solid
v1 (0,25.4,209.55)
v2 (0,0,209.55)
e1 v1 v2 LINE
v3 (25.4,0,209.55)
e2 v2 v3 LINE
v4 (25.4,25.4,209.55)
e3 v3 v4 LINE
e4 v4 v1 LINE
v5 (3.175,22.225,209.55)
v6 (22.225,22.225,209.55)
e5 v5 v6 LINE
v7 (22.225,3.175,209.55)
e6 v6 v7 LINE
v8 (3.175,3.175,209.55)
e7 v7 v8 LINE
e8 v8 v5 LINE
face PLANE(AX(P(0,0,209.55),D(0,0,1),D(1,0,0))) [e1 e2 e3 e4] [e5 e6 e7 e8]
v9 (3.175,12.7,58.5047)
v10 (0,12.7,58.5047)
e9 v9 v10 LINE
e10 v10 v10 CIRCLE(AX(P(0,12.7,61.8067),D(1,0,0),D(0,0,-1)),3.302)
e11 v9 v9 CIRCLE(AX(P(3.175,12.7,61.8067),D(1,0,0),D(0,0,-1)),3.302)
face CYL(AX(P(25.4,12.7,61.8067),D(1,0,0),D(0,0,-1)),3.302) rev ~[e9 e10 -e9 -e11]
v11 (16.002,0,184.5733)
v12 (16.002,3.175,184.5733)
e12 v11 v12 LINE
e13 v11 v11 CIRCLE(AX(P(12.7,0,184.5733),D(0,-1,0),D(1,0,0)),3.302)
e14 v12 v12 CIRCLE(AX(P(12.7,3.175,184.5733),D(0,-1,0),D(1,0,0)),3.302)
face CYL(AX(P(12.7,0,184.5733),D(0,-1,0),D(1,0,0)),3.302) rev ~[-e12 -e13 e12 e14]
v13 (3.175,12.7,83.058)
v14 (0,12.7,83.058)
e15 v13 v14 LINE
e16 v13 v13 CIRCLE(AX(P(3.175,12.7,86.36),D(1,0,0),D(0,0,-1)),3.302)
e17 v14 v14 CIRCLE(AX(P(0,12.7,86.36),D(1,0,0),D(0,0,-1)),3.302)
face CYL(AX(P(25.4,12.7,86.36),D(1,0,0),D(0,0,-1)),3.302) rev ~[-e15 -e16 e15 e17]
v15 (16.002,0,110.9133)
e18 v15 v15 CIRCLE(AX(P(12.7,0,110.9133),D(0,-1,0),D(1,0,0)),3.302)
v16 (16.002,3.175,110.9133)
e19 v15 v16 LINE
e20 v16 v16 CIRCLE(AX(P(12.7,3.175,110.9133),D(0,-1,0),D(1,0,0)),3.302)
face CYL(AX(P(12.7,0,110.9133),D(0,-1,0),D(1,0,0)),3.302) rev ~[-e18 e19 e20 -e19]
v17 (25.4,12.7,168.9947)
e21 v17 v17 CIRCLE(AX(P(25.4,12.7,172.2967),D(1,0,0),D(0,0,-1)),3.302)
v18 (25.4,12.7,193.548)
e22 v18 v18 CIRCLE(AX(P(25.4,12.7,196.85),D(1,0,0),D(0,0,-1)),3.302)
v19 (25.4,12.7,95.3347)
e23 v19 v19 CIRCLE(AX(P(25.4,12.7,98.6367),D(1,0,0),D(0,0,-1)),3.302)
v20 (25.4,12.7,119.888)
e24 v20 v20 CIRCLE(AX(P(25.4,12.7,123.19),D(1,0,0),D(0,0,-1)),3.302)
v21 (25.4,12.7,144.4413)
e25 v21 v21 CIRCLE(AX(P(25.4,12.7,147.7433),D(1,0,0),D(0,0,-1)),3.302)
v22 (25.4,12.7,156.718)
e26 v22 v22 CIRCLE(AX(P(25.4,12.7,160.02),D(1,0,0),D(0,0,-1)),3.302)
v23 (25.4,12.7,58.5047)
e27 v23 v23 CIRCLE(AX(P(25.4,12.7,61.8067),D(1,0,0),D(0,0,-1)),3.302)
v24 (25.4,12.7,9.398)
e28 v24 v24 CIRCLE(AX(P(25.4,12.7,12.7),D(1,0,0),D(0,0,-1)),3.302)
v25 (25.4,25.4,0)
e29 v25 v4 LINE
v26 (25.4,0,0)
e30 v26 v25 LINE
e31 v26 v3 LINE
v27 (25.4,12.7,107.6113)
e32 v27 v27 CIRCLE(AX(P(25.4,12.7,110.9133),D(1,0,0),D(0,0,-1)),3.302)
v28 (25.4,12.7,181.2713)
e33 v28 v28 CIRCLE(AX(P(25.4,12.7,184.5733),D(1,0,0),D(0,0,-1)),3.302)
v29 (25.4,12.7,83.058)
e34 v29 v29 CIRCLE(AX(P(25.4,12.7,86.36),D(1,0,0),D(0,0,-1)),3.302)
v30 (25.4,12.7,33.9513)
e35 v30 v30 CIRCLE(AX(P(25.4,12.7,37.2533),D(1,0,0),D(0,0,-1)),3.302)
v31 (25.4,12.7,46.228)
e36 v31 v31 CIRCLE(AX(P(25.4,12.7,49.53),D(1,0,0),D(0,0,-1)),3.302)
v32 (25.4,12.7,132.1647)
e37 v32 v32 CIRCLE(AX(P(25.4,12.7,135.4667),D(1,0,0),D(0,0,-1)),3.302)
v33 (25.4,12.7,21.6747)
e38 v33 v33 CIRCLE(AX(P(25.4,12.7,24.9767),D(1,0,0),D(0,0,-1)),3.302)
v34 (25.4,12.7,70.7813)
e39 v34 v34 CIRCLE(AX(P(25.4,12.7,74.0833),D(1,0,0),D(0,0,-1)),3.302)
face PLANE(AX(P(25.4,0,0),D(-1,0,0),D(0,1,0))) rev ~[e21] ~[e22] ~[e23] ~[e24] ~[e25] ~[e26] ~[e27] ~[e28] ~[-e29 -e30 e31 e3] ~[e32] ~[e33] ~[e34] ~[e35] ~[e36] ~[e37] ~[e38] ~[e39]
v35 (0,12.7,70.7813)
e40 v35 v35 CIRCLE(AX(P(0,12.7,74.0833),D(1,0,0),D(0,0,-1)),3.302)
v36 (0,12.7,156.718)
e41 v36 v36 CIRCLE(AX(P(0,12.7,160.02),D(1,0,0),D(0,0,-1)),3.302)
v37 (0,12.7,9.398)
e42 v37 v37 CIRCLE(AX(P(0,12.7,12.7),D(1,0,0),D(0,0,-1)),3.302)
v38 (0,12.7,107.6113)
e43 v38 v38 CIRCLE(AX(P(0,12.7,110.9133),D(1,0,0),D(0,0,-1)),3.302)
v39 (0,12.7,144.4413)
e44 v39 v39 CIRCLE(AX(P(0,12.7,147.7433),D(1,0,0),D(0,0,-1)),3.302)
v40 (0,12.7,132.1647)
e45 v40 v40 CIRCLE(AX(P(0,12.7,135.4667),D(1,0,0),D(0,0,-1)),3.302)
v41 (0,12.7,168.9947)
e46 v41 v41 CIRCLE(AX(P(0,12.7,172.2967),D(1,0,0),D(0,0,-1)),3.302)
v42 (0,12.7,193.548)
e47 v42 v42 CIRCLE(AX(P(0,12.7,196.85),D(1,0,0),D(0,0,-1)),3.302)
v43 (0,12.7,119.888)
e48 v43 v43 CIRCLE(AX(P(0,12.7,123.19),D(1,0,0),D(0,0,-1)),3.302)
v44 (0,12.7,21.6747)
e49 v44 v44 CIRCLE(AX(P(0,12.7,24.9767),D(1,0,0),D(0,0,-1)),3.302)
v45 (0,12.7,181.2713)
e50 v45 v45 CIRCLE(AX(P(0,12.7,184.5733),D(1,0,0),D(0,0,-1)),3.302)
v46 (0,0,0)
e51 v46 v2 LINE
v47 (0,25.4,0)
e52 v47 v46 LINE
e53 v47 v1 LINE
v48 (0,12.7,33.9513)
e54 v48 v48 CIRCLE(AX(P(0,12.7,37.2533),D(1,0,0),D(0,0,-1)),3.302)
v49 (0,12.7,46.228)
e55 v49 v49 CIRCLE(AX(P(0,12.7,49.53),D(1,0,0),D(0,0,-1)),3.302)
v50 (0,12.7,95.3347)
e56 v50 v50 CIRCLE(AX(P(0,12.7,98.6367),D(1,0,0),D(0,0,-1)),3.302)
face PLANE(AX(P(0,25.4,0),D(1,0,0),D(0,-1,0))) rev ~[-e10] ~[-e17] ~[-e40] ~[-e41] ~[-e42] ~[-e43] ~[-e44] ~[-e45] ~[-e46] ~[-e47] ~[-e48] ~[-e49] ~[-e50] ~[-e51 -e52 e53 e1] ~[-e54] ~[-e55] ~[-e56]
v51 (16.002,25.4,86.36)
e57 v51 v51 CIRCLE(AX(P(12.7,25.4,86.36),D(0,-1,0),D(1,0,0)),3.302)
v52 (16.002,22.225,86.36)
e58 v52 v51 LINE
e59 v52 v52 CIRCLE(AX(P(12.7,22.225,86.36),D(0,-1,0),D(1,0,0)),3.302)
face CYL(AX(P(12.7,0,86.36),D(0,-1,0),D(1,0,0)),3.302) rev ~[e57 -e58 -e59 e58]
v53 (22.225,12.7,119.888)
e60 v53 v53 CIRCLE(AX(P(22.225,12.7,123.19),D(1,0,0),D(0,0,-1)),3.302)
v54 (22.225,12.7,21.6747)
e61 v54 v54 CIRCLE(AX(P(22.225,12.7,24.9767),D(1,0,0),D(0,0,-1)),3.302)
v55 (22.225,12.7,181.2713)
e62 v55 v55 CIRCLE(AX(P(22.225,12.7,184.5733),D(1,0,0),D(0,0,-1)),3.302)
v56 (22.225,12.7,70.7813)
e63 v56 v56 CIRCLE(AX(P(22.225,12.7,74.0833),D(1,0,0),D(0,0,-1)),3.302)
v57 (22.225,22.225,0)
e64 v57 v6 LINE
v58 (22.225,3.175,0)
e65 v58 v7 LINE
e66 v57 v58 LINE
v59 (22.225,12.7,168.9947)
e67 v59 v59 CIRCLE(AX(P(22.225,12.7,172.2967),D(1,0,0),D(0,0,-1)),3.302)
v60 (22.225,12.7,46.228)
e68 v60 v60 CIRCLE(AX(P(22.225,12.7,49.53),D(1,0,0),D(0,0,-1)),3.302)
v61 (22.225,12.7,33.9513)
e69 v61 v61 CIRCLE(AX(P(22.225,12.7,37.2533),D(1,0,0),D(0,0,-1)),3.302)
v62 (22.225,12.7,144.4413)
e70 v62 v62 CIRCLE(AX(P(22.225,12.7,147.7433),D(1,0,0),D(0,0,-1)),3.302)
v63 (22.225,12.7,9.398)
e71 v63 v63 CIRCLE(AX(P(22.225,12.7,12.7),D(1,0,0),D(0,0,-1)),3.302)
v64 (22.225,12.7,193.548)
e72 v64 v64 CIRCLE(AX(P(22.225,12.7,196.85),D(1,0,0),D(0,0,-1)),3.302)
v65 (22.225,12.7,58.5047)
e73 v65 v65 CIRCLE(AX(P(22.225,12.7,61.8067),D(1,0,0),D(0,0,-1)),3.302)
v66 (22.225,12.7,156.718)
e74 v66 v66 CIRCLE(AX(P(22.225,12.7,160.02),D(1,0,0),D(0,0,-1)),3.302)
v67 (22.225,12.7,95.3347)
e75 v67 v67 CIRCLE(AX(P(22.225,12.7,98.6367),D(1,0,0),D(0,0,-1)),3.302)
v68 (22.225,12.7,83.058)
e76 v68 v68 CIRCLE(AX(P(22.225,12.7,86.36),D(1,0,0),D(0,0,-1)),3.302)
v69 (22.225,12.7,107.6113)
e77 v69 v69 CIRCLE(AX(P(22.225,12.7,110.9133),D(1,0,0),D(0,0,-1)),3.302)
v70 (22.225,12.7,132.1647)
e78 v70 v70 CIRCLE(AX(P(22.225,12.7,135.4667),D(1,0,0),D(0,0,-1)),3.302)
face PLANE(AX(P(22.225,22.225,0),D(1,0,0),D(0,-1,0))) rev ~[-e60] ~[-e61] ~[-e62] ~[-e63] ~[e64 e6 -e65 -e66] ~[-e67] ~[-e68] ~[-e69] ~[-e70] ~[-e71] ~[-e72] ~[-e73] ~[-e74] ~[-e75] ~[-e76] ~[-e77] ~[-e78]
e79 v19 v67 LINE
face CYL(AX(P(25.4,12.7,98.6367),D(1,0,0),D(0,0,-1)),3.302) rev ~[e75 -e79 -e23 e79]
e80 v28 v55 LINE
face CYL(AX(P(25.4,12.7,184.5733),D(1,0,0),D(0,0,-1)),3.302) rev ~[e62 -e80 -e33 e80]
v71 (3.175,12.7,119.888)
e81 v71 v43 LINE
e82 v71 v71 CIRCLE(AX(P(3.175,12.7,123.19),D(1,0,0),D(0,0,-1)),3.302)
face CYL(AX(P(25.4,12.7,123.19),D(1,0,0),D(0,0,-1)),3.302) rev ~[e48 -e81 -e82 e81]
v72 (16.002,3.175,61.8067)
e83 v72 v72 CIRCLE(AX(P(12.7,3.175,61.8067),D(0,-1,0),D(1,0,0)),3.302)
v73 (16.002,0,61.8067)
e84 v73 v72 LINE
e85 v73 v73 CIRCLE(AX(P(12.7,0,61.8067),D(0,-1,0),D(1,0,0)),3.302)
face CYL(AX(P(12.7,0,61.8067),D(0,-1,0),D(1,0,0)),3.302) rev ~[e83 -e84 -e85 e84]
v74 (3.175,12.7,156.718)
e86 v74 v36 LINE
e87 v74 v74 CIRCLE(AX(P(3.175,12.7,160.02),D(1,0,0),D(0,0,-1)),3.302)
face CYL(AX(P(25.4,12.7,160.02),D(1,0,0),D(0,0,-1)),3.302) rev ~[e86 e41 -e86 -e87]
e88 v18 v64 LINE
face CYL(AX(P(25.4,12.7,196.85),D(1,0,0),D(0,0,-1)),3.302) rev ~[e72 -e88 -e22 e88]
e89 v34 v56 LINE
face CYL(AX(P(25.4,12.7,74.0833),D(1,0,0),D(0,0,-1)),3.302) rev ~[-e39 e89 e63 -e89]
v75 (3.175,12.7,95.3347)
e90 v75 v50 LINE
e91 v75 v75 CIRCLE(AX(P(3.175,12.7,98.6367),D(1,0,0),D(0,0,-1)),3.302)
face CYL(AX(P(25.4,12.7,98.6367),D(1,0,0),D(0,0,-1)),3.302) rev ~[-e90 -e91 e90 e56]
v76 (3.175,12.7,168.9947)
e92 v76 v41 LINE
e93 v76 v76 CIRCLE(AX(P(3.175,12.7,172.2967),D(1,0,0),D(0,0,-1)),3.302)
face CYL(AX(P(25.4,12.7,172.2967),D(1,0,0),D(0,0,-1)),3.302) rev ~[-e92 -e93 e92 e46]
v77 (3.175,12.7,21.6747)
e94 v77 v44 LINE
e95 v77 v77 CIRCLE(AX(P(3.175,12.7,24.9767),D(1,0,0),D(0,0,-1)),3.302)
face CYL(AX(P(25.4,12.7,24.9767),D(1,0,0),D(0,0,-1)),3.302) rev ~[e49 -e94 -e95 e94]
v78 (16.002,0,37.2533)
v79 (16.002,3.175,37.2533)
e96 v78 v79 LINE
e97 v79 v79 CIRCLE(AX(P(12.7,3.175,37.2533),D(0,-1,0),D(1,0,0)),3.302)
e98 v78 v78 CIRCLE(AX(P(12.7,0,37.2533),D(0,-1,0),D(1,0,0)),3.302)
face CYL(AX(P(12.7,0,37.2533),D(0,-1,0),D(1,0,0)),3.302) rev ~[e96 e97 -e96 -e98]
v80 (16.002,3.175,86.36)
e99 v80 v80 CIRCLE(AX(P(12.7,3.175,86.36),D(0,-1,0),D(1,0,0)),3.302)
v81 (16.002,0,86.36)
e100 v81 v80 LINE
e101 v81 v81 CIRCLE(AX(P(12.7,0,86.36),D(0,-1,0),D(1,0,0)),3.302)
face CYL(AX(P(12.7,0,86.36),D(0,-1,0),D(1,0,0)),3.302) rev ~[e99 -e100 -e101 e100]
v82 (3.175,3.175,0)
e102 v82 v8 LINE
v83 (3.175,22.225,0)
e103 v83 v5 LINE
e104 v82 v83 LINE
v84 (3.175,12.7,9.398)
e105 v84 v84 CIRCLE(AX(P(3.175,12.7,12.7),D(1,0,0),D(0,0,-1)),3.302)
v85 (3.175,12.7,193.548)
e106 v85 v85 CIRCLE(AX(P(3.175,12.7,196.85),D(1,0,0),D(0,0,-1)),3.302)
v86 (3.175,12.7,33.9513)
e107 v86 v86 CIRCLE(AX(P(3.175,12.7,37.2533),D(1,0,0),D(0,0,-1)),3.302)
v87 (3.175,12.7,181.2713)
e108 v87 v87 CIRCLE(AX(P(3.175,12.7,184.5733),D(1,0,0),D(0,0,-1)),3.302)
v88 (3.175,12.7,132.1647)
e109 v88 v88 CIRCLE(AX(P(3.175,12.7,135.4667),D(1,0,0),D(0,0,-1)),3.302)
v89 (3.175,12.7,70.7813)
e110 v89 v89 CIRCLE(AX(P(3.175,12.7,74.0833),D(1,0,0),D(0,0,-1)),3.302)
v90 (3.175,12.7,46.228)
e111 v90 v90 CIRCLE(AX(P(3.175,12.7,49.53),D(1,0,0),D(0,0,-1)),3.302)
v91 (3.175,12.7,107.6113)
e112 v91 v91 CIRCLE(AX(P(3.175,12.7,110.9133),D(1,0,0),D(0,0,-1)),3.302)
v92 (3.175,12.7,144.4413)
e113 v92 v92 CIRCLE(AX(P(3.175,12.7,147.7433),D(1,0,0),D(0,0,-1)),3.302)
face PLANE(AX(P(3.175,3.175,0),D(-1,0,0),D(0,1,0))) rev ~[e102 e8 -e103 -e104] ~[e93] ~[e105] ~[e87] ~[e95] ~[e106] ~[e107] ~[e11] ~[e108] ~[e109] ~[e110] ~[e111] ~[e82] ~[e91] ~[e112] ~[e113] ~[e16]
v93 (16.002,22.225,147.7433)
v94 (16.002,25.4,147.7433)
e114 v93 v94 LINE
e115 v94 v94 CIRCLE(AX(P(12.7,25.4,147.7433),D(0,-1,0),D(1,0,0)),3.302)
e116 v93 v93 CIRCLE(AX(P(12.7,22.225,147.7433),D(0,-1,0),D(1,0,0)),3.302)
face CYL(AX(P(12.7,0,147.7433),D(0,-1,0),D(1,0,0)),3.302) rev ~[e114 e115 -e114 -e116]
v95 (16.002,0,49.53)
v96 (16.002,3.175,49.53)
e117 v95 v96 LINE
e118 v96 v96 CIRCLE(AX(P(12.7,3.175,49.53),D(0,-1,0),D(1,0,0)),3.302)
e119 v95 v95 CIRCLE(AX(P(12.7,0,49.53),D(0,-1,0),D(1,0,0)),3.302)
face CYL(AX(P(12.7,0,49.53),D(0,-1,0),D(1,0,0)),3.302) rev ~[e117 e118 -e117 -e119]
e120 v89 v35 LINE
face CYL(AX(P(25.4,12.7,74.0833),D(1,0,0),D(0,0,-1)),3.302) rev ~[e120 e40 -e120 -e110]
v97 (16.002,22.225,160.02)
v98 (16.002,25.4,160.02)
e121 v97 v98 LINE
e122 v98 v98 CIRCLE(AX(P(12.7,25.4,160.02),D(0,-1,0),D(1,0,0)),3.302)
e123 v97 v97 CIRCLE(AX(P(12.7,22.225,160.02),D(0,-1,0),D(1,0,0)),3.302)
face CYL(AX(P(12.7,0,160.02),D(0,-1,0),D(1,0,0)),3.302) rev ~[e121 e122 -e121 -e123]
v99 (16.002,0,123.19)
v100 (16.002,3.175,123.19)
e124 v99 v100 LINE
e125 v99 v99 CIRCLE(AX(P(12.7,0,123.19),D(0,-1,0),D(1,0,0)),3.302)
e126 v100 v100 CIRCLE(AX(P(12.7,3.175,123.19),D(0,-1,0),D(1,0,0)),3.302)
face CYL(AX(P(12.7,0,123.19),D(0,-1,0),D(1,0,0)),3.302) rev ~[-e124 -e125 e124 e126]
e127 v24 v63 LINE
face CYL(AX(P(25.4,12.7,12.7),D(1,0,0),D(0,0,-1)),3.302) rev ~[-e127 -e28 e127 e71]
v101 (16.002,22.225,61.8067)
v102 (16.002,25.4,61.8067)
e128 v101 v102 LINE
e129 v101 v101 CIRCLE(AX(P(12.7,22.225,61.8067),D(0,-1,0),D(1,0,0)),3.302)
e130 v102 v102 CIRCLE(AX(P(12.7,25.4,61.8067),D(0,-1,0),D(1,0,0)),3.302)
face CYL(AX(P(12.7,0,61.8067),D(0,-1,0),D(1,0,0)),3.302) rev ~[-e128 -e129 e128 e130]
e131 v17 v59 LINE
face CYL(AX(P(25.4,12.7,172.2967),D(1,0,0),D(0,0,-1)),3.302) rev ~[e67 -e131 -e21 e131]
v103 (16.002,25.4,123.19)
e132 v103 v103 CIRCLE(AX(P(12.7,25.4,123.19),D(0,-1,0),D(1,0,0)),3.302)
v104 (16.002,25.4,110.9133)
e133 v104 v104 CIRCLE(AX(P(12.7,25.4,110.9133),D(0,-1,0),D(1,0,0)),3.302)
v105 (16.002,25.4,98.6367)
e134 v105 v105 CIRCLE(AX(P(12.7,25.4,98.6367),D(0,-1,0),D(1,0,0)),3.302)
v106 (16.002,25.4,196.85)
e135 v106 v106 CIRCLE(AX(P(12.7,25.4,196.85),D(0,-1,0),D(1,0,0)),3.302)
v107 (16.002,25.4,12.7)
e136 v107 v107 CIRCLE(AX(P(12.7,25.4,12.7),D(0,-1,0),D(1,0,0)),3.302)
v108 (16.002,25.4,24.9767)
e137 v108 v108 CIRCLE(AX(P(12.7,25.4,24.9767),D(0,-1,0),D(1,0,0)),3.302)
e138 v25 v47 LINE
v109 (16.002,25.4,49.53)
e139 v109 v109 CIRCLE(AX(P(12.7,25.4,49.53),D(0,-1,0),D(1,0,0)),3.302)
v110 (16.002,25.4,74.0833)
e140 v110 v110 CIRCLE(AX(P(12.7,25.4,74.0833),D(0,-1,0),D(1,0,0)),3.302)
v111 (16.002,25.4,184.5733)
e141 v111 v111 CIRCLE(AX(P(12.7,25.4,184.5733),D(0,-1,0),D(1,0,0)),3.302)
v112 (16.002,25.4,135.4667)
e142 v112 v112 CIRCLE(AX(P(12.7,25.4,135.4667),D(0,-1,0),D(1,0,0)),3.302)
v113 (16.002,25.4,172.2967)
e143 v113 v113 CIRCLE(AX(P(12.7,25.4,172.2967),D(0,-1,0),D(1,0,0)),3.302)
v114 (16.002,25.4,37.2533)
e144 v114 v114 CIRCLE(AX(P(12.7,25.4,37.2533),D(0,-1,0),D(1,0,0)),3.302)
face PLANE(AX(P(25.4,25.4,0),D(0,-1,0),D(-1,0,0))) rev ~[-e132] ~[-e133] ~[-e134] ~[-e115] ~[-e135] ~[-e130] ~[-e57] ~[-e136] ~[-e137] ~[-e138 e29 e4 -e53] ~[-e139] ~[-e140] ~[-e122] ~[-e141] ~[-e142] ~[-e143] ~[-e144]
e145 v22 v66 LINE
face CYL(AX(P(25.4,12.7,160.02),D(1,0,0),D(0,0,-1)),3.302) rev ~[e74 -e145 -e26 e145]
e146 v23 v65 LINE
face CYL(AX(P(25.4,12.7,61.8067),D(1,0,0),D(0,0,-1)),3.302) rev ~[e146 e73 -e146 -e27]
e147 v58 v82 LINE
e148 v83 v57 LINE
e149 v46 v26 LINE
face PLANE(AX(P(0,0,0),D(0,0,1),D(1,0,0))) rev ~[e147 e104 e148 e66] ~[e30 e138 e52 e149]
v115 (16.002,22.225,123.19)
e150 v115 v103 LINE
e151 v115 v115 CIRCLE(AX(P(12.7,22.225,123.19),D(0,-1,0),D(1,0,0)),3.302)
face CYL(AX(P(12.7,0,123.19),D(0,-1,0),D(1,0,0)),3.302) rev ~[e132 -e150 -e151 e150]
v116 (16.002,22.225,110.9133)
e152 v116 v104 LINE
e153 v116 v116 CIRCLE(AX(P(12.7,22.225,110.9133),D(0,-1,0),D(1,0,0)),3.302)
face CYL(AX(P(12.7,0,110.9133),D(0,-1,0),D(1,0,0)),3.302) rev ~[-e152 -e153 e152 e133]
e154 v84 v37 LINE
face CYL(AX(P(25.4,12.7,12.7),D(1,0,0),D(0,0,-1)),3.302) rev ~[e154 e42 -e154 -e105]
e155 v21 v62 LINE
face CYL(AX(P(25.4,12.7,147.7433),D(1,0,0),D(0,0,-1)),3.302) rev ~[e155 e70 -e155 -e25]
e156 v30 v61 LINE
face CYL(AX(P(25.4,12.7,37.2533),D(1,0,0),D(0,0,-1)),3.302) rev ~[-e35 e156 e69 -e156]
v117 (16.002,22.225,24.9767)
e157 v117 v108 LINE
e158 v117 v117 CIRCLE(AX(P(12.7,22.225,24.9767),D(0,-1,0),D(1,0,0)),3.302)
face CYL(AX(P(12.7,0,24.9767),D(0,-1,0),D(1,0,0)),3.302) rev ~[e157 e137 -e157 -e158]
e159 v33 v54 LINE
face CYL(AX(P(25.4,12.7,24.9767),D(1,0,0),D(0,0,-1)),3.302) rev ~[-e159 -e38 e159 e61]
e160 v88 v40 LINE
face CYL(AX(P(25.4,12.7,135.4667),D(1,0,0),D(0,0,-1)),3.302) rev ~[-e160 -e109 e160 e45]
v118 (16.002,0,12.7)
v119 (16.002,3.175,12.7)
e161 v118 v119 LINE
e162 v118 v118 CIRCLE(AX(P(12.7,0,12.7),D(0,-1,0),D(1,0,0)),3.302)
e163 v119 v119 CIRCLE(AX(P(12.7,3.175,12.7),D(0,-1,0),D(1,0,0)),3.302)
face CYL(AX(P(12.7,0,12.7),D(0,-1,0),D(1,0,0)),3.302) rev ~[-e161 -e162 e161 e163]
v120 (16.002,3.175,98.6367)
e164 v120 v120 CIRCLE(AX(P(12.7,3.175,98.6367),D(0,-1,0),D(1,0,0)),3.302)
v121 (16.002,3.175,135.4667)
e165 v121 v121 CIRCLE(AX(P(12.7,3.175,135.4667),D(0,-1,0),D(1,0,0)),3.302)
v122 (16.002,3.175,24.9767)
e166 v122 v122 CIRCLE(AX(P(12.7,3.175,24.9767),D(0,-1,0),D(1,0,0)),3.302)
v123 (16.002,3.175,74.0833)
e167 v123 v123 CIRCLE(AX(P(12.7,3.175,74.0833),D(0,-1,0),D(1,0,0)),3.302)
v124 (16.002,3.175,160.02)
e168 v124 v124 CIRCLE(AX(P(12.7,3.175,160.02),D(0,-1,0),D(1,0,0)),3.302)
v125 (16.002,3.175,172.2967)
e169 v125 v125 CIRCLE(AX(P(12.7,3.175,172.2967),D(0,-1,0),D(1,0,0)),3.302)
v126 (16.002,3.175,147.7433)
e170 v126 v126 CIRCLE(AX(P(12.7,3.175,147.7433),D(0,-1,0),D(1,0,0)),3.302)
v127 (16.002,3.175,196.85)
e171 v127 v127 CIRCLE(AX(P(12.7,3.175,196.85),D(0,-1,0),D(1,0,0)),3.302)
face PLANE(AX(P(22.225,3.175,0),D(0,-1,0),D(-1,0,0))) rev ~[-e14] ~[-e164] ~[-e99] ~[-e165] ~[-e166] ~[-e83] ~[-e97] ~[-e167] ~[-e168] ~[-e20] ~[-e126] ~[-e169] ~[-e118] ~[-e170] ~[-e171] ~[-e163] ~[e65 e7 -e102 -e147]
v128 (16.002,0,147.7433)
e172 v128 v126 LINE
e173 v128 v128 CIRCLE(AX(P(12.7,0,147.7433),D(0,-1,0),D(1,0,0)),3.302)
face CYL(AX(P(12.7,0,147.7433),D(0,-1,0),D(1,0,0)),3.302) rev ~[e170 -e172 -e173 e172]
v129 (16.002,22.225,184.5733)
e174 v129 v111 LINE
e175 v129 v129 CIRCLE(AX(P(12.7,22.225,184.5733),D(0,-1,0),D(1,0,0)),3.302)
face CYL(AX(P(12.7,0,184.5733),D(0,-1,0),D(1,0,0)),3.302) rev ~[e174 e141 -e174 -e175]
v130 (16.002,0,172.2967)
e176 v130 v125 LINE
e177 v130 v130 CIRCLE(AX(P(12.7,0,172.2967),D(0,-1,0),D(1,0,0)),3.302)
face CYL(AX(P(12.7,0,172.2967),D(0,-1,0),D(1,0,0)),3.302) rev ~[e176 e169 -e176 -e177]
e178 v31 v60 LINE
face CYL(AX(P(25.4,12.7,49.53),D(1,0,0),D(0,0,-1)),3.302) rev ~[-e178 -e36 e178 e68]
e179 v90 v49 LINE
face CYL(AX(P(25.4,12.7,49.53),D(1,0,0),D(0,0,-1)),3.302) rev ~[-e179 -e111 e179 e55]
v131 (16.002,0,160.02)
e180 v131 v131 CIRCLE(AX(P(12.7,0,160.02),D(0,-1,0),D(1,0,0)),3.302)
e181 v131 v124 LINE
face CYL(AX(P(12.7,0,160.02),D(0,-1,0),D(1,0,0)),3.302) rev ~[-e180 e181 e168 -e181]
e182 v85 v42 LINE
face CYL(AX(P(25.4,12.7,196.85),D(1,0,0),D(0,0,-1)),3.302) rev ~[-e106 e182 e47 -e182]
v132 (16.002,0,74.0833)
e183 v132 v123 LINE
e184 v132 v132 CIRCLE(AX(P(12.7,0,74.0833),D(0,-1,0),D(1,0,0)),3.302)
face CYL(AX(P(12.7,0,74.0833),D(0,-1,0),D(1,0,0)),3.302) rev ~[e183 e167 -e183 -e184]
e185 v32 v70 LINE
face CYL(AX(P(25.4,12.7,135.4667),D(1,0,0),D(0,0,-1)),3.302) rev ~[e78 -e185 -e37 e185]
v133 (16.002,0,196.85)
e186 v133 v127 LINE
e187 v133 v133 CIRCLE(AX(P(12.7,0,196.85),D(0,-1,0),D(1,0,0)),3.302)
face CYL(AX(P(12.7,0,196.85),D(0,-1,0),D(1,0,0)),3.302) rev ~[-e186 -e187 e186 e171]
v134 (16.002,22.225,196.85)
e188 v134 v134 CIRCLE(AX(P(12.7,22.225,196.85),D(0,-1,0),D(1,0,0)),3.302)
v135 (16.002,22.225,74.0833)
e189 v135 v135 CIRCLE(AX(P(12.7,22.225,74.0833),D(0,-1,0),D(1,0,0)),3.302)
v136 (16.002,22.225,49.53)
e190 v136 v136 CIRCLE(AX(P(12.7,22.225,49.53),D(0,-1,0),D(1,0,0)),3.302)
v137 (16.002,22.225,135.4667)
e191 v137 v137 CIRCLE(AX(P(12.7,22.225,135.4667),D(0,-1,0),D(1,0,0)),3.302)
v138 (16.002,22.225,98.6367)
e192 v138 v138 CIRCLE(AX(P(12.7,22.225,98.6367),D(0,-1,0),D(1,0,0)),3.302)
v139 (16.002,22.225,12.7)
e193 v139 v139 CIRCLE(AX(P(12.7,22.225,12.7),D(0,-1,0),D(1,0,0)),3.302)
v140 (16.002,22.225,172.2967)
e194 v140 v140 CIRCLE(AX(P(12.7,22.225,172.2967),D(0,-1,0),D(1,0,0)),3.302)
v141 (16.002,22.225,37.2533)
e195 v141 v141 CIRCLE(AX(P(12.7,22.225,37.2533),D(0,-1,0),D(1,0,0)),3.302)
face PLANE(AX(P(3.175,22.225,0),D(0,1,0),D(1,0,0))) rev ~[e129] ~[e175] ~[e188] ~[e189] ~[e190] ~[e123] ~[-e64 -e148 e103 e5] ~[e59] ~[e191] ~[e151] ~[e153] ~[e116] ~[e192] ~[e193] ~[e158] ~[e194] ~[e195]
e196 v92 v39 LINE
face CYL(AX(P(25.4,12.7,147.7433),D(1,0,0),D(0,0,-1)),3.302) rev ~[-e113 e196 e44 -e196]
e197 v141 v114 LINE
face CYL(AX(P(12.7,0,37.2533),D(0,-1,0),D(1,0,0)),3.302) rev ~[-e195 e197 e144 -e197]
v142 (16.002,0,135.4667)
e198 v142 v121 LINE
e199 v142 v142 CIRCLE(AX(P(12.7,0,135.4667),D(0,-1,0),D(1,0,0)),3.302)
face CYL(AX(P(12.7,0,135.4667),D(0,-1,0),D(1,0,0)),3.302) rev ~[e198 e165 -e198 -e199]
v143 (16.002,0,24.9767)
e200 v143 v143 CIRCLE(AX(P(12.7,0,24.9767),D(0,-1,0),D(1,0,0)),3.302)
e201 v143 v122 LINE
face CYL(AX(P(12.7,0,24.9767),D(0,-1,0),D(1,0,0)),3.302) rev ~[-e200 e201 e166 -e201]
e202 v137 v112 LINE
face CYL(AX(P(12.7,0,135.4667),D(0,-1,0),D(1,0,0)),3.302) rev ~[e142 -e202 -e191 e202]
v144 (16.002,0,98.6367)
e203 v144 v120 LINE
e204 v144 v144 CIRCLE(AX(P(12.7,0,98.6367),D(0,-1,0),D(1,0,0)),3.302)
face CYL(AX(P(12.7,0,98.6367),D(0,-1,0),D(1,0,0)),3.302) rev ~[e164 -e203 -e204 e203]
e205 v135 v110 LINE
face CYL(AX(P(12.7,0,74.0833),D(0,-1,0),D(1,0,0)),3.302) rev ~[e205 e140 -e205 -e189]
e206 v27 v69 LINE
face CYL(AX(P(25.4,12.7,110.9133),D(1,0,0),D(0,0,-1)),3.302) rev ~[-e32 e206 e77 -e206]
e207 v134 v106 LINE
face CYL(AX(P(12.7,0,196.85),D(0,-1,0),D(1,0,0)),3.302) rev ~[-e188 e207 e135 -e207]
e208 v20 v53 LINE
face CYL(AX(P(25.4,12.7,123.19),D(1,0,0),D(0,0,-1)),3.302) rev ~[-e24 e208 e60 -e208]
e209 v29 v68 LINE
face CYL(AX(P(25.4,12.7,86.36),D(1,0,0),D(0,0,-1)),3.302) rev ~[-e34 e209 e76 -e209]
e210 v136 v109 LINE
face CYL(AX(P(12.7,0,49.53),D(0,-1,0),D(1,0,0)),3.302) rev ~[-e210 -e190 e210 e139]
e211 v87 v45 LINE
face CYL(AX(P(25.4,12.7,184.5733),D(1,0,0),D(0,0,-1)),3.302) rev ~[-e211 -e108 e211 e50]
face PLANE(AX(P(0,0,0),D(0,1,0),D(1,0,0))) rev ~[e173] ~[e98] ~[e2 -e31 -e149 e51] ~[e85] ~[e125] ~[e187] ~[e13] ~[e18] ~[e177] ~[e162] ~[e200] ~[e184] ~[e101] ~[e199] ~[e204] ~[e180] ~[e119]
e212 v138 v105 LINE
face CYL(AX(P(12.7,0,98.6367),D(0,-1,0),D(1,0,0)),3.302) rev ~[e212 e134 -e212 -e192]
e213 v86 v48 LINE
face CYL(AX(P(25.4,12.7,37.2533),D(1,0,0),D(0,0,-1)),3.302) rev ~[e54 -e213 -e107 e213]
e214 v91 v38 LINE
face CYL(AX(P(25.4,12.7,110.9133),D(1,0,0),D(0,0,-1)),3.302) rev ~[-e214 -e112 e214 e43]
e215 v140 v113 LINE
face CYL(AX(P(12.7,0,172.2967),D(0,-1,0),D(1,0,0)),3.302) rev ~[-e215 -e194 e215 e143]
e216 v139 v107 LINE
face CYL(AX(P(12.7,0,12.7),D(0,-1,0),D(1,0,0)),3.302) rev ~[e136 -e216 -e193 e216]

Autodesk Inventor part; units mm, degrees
ref_plane "YZ Plane" through (0, 0, 0) normal (1, 0, 0) x (0, 1, 0)
ref_plane "XZ Plane" through (0, 0, 0) normal (0, 1, 0) x (-1, 0, 0)
ref_plane "XY Plane" through (0, 0, 0) normal (0, 0, 1) x (1, 0, 0)
sketch "Sketch1" plane through (0, 0, 0) normal (0, 0, 1) x (1, 0, 0)
  line L0 (0, 0) -> (25.4, 0)
  line L1 (25.4, 0) -> (25.4, 25.4)
  line L2 (25.4, 25.4) -> (0, 25.4)
  line L3 (0, 25.4) -> (0, 0)
  line L4 (3.175, 22.225) -> (22.225, 22.225)
  line L5 (22.225, 22.225) -> (22.225, 3.175)
  line L6 (22.225, 3.175) -> (3.175, 3.175)
  line L7 (3.175, 3.175) -> (3.175, 22.225)
  dimension "d0" = 25.4
  dimension "d1" = 25.4
  dimension "d2" = 3.175
extrude "Extrusion1" add sketch "Sketch1" along normal blind 209.55
sketch "Sketch2" plane through (25.4, 0, 0) normal (1, 0, 0) x (0, 0, -1)
  line L0 (0, 0) -> (0, 25.4) projected
  line L1 (-209.55, 0) -> (-209.55, 25.4) projected
  line L2 (0, 0) -> (-209.55, 0) projected
  line L3 (-209.55, 12.7) -> (-196.85, 12.7) construction
  line L4 (0, 12.7) -> (-12.7, 12.7) construction
  circle A0 centre (-196.85, 12.7) radius 3.302
  line L5 (0, 25.4) -> (-209.55, 25.4) projected
  line L6 (-196.85, 12.7) -> (-12.7, 12.7) construction
  circle A1 centre (-184.5733, 12.7) radius 3.302
  circle A2 centre (-172.2967, 12.7) radius 3.302
  circle A3 centre (-160.02, 12.7) radius 3.302
  circle A4 centre (-147.7433, 12.7) radius 3.302
  circle A5 centre (-135.4667, 12.7) radius 3.302
  circle A6 centre (-123.19, 12.7) radius 3.302
  circle A7 centre (-110.9133, 12.7) radius 3.302
  circle A8 centre (-98.6367, 12.7) radius 3.302
  circle A9 centre (-86.36, 12.7) radius 3.302
  circle A10 centre (-74.0833, 12.7) radius 3.302
  circle A11 centre (-61.8067, 12.7) radius 3.302
  circle A12 centre (-49.53, 12.7) radius 3.302
  circle A13 centre (-37.2533, 12.7) radius 3.302
  circle A14 centre (-24.9767, 12.7) radius 3.302
  circle A15 centre (-12.7, 12.7) radius 3.302
  dimension "d5" = 12.7
  dimension "d7" = 6.604
  dimension "d13" = 209.55
  dimension "d16" = 12.2767
extrude "Extrusion2" cut sketch "Sketch2" against normal through all contours A0 | A1 | A2 | A3 | A4 | A5 | A6 | A7 | A8 | A9 | A10 | A11 | A12 | A13 | A14 | A15
sketch "Sketch3" plane through (0, 0, 0) normal (0, -1, 0) x (1, 0, 0)
  line L0 (0, 0) -> (25.4, 0) projected
  line L1 (0, 209.55) -> (25.4, 209.55) projected
  line L2 (12.7, 209.55) -> (12.7, 0) construction
  circle A0 centre (12.7, 196.85) radius 3.302
  circle A1 centre (12.7, 184.5733) radius 3.302
  circle A2 centre (12.7, 172.2967) radius 3.302
  circle A3 centre (12.7, 160.02) radius 3.302
  circle A4 centre (12.7, 147.7433) radius 3.302
  circle A5 centre (12.7, 135.4667) radius 3.302
  circle A6 centre (12.7, 123.19) radius 3.302
  circle A7 centre (12.7, 110.9133) radius 3.302
  circle A8 centre (12.7, 98.6367) radius 3.302
  circle A9 centre (12.7, 86.36) radius 3.302
  circle A10 centre (12.7, 74.0833) radius 3.302
  circle A11 centre (12.7, 61.8067) radius 3.302
  circle A12 centre (12.7, 49.53) radius 3.302
  circle A13 centre (12.7, 37.2533) radius 3.302
  circle A14 centre (12.7, 24.9767) radius 3.302
  circle A15 centre (12.7, 12.7) radius 3.302
  dimension "d21" = 12.7
  dimension "d22" = 209.55
  dimension "d23" = 6.604
  dimension "d26" = 12.2767
extrude "Extrusion3" cut sketch "Sketch3" against normal blind 25.4
equation "\"d26\" = -0.133333 * d21 + 0.0666667 * d22"
properties part number "Chassis Part9 (26x28)" material "Aluminum 6061"
